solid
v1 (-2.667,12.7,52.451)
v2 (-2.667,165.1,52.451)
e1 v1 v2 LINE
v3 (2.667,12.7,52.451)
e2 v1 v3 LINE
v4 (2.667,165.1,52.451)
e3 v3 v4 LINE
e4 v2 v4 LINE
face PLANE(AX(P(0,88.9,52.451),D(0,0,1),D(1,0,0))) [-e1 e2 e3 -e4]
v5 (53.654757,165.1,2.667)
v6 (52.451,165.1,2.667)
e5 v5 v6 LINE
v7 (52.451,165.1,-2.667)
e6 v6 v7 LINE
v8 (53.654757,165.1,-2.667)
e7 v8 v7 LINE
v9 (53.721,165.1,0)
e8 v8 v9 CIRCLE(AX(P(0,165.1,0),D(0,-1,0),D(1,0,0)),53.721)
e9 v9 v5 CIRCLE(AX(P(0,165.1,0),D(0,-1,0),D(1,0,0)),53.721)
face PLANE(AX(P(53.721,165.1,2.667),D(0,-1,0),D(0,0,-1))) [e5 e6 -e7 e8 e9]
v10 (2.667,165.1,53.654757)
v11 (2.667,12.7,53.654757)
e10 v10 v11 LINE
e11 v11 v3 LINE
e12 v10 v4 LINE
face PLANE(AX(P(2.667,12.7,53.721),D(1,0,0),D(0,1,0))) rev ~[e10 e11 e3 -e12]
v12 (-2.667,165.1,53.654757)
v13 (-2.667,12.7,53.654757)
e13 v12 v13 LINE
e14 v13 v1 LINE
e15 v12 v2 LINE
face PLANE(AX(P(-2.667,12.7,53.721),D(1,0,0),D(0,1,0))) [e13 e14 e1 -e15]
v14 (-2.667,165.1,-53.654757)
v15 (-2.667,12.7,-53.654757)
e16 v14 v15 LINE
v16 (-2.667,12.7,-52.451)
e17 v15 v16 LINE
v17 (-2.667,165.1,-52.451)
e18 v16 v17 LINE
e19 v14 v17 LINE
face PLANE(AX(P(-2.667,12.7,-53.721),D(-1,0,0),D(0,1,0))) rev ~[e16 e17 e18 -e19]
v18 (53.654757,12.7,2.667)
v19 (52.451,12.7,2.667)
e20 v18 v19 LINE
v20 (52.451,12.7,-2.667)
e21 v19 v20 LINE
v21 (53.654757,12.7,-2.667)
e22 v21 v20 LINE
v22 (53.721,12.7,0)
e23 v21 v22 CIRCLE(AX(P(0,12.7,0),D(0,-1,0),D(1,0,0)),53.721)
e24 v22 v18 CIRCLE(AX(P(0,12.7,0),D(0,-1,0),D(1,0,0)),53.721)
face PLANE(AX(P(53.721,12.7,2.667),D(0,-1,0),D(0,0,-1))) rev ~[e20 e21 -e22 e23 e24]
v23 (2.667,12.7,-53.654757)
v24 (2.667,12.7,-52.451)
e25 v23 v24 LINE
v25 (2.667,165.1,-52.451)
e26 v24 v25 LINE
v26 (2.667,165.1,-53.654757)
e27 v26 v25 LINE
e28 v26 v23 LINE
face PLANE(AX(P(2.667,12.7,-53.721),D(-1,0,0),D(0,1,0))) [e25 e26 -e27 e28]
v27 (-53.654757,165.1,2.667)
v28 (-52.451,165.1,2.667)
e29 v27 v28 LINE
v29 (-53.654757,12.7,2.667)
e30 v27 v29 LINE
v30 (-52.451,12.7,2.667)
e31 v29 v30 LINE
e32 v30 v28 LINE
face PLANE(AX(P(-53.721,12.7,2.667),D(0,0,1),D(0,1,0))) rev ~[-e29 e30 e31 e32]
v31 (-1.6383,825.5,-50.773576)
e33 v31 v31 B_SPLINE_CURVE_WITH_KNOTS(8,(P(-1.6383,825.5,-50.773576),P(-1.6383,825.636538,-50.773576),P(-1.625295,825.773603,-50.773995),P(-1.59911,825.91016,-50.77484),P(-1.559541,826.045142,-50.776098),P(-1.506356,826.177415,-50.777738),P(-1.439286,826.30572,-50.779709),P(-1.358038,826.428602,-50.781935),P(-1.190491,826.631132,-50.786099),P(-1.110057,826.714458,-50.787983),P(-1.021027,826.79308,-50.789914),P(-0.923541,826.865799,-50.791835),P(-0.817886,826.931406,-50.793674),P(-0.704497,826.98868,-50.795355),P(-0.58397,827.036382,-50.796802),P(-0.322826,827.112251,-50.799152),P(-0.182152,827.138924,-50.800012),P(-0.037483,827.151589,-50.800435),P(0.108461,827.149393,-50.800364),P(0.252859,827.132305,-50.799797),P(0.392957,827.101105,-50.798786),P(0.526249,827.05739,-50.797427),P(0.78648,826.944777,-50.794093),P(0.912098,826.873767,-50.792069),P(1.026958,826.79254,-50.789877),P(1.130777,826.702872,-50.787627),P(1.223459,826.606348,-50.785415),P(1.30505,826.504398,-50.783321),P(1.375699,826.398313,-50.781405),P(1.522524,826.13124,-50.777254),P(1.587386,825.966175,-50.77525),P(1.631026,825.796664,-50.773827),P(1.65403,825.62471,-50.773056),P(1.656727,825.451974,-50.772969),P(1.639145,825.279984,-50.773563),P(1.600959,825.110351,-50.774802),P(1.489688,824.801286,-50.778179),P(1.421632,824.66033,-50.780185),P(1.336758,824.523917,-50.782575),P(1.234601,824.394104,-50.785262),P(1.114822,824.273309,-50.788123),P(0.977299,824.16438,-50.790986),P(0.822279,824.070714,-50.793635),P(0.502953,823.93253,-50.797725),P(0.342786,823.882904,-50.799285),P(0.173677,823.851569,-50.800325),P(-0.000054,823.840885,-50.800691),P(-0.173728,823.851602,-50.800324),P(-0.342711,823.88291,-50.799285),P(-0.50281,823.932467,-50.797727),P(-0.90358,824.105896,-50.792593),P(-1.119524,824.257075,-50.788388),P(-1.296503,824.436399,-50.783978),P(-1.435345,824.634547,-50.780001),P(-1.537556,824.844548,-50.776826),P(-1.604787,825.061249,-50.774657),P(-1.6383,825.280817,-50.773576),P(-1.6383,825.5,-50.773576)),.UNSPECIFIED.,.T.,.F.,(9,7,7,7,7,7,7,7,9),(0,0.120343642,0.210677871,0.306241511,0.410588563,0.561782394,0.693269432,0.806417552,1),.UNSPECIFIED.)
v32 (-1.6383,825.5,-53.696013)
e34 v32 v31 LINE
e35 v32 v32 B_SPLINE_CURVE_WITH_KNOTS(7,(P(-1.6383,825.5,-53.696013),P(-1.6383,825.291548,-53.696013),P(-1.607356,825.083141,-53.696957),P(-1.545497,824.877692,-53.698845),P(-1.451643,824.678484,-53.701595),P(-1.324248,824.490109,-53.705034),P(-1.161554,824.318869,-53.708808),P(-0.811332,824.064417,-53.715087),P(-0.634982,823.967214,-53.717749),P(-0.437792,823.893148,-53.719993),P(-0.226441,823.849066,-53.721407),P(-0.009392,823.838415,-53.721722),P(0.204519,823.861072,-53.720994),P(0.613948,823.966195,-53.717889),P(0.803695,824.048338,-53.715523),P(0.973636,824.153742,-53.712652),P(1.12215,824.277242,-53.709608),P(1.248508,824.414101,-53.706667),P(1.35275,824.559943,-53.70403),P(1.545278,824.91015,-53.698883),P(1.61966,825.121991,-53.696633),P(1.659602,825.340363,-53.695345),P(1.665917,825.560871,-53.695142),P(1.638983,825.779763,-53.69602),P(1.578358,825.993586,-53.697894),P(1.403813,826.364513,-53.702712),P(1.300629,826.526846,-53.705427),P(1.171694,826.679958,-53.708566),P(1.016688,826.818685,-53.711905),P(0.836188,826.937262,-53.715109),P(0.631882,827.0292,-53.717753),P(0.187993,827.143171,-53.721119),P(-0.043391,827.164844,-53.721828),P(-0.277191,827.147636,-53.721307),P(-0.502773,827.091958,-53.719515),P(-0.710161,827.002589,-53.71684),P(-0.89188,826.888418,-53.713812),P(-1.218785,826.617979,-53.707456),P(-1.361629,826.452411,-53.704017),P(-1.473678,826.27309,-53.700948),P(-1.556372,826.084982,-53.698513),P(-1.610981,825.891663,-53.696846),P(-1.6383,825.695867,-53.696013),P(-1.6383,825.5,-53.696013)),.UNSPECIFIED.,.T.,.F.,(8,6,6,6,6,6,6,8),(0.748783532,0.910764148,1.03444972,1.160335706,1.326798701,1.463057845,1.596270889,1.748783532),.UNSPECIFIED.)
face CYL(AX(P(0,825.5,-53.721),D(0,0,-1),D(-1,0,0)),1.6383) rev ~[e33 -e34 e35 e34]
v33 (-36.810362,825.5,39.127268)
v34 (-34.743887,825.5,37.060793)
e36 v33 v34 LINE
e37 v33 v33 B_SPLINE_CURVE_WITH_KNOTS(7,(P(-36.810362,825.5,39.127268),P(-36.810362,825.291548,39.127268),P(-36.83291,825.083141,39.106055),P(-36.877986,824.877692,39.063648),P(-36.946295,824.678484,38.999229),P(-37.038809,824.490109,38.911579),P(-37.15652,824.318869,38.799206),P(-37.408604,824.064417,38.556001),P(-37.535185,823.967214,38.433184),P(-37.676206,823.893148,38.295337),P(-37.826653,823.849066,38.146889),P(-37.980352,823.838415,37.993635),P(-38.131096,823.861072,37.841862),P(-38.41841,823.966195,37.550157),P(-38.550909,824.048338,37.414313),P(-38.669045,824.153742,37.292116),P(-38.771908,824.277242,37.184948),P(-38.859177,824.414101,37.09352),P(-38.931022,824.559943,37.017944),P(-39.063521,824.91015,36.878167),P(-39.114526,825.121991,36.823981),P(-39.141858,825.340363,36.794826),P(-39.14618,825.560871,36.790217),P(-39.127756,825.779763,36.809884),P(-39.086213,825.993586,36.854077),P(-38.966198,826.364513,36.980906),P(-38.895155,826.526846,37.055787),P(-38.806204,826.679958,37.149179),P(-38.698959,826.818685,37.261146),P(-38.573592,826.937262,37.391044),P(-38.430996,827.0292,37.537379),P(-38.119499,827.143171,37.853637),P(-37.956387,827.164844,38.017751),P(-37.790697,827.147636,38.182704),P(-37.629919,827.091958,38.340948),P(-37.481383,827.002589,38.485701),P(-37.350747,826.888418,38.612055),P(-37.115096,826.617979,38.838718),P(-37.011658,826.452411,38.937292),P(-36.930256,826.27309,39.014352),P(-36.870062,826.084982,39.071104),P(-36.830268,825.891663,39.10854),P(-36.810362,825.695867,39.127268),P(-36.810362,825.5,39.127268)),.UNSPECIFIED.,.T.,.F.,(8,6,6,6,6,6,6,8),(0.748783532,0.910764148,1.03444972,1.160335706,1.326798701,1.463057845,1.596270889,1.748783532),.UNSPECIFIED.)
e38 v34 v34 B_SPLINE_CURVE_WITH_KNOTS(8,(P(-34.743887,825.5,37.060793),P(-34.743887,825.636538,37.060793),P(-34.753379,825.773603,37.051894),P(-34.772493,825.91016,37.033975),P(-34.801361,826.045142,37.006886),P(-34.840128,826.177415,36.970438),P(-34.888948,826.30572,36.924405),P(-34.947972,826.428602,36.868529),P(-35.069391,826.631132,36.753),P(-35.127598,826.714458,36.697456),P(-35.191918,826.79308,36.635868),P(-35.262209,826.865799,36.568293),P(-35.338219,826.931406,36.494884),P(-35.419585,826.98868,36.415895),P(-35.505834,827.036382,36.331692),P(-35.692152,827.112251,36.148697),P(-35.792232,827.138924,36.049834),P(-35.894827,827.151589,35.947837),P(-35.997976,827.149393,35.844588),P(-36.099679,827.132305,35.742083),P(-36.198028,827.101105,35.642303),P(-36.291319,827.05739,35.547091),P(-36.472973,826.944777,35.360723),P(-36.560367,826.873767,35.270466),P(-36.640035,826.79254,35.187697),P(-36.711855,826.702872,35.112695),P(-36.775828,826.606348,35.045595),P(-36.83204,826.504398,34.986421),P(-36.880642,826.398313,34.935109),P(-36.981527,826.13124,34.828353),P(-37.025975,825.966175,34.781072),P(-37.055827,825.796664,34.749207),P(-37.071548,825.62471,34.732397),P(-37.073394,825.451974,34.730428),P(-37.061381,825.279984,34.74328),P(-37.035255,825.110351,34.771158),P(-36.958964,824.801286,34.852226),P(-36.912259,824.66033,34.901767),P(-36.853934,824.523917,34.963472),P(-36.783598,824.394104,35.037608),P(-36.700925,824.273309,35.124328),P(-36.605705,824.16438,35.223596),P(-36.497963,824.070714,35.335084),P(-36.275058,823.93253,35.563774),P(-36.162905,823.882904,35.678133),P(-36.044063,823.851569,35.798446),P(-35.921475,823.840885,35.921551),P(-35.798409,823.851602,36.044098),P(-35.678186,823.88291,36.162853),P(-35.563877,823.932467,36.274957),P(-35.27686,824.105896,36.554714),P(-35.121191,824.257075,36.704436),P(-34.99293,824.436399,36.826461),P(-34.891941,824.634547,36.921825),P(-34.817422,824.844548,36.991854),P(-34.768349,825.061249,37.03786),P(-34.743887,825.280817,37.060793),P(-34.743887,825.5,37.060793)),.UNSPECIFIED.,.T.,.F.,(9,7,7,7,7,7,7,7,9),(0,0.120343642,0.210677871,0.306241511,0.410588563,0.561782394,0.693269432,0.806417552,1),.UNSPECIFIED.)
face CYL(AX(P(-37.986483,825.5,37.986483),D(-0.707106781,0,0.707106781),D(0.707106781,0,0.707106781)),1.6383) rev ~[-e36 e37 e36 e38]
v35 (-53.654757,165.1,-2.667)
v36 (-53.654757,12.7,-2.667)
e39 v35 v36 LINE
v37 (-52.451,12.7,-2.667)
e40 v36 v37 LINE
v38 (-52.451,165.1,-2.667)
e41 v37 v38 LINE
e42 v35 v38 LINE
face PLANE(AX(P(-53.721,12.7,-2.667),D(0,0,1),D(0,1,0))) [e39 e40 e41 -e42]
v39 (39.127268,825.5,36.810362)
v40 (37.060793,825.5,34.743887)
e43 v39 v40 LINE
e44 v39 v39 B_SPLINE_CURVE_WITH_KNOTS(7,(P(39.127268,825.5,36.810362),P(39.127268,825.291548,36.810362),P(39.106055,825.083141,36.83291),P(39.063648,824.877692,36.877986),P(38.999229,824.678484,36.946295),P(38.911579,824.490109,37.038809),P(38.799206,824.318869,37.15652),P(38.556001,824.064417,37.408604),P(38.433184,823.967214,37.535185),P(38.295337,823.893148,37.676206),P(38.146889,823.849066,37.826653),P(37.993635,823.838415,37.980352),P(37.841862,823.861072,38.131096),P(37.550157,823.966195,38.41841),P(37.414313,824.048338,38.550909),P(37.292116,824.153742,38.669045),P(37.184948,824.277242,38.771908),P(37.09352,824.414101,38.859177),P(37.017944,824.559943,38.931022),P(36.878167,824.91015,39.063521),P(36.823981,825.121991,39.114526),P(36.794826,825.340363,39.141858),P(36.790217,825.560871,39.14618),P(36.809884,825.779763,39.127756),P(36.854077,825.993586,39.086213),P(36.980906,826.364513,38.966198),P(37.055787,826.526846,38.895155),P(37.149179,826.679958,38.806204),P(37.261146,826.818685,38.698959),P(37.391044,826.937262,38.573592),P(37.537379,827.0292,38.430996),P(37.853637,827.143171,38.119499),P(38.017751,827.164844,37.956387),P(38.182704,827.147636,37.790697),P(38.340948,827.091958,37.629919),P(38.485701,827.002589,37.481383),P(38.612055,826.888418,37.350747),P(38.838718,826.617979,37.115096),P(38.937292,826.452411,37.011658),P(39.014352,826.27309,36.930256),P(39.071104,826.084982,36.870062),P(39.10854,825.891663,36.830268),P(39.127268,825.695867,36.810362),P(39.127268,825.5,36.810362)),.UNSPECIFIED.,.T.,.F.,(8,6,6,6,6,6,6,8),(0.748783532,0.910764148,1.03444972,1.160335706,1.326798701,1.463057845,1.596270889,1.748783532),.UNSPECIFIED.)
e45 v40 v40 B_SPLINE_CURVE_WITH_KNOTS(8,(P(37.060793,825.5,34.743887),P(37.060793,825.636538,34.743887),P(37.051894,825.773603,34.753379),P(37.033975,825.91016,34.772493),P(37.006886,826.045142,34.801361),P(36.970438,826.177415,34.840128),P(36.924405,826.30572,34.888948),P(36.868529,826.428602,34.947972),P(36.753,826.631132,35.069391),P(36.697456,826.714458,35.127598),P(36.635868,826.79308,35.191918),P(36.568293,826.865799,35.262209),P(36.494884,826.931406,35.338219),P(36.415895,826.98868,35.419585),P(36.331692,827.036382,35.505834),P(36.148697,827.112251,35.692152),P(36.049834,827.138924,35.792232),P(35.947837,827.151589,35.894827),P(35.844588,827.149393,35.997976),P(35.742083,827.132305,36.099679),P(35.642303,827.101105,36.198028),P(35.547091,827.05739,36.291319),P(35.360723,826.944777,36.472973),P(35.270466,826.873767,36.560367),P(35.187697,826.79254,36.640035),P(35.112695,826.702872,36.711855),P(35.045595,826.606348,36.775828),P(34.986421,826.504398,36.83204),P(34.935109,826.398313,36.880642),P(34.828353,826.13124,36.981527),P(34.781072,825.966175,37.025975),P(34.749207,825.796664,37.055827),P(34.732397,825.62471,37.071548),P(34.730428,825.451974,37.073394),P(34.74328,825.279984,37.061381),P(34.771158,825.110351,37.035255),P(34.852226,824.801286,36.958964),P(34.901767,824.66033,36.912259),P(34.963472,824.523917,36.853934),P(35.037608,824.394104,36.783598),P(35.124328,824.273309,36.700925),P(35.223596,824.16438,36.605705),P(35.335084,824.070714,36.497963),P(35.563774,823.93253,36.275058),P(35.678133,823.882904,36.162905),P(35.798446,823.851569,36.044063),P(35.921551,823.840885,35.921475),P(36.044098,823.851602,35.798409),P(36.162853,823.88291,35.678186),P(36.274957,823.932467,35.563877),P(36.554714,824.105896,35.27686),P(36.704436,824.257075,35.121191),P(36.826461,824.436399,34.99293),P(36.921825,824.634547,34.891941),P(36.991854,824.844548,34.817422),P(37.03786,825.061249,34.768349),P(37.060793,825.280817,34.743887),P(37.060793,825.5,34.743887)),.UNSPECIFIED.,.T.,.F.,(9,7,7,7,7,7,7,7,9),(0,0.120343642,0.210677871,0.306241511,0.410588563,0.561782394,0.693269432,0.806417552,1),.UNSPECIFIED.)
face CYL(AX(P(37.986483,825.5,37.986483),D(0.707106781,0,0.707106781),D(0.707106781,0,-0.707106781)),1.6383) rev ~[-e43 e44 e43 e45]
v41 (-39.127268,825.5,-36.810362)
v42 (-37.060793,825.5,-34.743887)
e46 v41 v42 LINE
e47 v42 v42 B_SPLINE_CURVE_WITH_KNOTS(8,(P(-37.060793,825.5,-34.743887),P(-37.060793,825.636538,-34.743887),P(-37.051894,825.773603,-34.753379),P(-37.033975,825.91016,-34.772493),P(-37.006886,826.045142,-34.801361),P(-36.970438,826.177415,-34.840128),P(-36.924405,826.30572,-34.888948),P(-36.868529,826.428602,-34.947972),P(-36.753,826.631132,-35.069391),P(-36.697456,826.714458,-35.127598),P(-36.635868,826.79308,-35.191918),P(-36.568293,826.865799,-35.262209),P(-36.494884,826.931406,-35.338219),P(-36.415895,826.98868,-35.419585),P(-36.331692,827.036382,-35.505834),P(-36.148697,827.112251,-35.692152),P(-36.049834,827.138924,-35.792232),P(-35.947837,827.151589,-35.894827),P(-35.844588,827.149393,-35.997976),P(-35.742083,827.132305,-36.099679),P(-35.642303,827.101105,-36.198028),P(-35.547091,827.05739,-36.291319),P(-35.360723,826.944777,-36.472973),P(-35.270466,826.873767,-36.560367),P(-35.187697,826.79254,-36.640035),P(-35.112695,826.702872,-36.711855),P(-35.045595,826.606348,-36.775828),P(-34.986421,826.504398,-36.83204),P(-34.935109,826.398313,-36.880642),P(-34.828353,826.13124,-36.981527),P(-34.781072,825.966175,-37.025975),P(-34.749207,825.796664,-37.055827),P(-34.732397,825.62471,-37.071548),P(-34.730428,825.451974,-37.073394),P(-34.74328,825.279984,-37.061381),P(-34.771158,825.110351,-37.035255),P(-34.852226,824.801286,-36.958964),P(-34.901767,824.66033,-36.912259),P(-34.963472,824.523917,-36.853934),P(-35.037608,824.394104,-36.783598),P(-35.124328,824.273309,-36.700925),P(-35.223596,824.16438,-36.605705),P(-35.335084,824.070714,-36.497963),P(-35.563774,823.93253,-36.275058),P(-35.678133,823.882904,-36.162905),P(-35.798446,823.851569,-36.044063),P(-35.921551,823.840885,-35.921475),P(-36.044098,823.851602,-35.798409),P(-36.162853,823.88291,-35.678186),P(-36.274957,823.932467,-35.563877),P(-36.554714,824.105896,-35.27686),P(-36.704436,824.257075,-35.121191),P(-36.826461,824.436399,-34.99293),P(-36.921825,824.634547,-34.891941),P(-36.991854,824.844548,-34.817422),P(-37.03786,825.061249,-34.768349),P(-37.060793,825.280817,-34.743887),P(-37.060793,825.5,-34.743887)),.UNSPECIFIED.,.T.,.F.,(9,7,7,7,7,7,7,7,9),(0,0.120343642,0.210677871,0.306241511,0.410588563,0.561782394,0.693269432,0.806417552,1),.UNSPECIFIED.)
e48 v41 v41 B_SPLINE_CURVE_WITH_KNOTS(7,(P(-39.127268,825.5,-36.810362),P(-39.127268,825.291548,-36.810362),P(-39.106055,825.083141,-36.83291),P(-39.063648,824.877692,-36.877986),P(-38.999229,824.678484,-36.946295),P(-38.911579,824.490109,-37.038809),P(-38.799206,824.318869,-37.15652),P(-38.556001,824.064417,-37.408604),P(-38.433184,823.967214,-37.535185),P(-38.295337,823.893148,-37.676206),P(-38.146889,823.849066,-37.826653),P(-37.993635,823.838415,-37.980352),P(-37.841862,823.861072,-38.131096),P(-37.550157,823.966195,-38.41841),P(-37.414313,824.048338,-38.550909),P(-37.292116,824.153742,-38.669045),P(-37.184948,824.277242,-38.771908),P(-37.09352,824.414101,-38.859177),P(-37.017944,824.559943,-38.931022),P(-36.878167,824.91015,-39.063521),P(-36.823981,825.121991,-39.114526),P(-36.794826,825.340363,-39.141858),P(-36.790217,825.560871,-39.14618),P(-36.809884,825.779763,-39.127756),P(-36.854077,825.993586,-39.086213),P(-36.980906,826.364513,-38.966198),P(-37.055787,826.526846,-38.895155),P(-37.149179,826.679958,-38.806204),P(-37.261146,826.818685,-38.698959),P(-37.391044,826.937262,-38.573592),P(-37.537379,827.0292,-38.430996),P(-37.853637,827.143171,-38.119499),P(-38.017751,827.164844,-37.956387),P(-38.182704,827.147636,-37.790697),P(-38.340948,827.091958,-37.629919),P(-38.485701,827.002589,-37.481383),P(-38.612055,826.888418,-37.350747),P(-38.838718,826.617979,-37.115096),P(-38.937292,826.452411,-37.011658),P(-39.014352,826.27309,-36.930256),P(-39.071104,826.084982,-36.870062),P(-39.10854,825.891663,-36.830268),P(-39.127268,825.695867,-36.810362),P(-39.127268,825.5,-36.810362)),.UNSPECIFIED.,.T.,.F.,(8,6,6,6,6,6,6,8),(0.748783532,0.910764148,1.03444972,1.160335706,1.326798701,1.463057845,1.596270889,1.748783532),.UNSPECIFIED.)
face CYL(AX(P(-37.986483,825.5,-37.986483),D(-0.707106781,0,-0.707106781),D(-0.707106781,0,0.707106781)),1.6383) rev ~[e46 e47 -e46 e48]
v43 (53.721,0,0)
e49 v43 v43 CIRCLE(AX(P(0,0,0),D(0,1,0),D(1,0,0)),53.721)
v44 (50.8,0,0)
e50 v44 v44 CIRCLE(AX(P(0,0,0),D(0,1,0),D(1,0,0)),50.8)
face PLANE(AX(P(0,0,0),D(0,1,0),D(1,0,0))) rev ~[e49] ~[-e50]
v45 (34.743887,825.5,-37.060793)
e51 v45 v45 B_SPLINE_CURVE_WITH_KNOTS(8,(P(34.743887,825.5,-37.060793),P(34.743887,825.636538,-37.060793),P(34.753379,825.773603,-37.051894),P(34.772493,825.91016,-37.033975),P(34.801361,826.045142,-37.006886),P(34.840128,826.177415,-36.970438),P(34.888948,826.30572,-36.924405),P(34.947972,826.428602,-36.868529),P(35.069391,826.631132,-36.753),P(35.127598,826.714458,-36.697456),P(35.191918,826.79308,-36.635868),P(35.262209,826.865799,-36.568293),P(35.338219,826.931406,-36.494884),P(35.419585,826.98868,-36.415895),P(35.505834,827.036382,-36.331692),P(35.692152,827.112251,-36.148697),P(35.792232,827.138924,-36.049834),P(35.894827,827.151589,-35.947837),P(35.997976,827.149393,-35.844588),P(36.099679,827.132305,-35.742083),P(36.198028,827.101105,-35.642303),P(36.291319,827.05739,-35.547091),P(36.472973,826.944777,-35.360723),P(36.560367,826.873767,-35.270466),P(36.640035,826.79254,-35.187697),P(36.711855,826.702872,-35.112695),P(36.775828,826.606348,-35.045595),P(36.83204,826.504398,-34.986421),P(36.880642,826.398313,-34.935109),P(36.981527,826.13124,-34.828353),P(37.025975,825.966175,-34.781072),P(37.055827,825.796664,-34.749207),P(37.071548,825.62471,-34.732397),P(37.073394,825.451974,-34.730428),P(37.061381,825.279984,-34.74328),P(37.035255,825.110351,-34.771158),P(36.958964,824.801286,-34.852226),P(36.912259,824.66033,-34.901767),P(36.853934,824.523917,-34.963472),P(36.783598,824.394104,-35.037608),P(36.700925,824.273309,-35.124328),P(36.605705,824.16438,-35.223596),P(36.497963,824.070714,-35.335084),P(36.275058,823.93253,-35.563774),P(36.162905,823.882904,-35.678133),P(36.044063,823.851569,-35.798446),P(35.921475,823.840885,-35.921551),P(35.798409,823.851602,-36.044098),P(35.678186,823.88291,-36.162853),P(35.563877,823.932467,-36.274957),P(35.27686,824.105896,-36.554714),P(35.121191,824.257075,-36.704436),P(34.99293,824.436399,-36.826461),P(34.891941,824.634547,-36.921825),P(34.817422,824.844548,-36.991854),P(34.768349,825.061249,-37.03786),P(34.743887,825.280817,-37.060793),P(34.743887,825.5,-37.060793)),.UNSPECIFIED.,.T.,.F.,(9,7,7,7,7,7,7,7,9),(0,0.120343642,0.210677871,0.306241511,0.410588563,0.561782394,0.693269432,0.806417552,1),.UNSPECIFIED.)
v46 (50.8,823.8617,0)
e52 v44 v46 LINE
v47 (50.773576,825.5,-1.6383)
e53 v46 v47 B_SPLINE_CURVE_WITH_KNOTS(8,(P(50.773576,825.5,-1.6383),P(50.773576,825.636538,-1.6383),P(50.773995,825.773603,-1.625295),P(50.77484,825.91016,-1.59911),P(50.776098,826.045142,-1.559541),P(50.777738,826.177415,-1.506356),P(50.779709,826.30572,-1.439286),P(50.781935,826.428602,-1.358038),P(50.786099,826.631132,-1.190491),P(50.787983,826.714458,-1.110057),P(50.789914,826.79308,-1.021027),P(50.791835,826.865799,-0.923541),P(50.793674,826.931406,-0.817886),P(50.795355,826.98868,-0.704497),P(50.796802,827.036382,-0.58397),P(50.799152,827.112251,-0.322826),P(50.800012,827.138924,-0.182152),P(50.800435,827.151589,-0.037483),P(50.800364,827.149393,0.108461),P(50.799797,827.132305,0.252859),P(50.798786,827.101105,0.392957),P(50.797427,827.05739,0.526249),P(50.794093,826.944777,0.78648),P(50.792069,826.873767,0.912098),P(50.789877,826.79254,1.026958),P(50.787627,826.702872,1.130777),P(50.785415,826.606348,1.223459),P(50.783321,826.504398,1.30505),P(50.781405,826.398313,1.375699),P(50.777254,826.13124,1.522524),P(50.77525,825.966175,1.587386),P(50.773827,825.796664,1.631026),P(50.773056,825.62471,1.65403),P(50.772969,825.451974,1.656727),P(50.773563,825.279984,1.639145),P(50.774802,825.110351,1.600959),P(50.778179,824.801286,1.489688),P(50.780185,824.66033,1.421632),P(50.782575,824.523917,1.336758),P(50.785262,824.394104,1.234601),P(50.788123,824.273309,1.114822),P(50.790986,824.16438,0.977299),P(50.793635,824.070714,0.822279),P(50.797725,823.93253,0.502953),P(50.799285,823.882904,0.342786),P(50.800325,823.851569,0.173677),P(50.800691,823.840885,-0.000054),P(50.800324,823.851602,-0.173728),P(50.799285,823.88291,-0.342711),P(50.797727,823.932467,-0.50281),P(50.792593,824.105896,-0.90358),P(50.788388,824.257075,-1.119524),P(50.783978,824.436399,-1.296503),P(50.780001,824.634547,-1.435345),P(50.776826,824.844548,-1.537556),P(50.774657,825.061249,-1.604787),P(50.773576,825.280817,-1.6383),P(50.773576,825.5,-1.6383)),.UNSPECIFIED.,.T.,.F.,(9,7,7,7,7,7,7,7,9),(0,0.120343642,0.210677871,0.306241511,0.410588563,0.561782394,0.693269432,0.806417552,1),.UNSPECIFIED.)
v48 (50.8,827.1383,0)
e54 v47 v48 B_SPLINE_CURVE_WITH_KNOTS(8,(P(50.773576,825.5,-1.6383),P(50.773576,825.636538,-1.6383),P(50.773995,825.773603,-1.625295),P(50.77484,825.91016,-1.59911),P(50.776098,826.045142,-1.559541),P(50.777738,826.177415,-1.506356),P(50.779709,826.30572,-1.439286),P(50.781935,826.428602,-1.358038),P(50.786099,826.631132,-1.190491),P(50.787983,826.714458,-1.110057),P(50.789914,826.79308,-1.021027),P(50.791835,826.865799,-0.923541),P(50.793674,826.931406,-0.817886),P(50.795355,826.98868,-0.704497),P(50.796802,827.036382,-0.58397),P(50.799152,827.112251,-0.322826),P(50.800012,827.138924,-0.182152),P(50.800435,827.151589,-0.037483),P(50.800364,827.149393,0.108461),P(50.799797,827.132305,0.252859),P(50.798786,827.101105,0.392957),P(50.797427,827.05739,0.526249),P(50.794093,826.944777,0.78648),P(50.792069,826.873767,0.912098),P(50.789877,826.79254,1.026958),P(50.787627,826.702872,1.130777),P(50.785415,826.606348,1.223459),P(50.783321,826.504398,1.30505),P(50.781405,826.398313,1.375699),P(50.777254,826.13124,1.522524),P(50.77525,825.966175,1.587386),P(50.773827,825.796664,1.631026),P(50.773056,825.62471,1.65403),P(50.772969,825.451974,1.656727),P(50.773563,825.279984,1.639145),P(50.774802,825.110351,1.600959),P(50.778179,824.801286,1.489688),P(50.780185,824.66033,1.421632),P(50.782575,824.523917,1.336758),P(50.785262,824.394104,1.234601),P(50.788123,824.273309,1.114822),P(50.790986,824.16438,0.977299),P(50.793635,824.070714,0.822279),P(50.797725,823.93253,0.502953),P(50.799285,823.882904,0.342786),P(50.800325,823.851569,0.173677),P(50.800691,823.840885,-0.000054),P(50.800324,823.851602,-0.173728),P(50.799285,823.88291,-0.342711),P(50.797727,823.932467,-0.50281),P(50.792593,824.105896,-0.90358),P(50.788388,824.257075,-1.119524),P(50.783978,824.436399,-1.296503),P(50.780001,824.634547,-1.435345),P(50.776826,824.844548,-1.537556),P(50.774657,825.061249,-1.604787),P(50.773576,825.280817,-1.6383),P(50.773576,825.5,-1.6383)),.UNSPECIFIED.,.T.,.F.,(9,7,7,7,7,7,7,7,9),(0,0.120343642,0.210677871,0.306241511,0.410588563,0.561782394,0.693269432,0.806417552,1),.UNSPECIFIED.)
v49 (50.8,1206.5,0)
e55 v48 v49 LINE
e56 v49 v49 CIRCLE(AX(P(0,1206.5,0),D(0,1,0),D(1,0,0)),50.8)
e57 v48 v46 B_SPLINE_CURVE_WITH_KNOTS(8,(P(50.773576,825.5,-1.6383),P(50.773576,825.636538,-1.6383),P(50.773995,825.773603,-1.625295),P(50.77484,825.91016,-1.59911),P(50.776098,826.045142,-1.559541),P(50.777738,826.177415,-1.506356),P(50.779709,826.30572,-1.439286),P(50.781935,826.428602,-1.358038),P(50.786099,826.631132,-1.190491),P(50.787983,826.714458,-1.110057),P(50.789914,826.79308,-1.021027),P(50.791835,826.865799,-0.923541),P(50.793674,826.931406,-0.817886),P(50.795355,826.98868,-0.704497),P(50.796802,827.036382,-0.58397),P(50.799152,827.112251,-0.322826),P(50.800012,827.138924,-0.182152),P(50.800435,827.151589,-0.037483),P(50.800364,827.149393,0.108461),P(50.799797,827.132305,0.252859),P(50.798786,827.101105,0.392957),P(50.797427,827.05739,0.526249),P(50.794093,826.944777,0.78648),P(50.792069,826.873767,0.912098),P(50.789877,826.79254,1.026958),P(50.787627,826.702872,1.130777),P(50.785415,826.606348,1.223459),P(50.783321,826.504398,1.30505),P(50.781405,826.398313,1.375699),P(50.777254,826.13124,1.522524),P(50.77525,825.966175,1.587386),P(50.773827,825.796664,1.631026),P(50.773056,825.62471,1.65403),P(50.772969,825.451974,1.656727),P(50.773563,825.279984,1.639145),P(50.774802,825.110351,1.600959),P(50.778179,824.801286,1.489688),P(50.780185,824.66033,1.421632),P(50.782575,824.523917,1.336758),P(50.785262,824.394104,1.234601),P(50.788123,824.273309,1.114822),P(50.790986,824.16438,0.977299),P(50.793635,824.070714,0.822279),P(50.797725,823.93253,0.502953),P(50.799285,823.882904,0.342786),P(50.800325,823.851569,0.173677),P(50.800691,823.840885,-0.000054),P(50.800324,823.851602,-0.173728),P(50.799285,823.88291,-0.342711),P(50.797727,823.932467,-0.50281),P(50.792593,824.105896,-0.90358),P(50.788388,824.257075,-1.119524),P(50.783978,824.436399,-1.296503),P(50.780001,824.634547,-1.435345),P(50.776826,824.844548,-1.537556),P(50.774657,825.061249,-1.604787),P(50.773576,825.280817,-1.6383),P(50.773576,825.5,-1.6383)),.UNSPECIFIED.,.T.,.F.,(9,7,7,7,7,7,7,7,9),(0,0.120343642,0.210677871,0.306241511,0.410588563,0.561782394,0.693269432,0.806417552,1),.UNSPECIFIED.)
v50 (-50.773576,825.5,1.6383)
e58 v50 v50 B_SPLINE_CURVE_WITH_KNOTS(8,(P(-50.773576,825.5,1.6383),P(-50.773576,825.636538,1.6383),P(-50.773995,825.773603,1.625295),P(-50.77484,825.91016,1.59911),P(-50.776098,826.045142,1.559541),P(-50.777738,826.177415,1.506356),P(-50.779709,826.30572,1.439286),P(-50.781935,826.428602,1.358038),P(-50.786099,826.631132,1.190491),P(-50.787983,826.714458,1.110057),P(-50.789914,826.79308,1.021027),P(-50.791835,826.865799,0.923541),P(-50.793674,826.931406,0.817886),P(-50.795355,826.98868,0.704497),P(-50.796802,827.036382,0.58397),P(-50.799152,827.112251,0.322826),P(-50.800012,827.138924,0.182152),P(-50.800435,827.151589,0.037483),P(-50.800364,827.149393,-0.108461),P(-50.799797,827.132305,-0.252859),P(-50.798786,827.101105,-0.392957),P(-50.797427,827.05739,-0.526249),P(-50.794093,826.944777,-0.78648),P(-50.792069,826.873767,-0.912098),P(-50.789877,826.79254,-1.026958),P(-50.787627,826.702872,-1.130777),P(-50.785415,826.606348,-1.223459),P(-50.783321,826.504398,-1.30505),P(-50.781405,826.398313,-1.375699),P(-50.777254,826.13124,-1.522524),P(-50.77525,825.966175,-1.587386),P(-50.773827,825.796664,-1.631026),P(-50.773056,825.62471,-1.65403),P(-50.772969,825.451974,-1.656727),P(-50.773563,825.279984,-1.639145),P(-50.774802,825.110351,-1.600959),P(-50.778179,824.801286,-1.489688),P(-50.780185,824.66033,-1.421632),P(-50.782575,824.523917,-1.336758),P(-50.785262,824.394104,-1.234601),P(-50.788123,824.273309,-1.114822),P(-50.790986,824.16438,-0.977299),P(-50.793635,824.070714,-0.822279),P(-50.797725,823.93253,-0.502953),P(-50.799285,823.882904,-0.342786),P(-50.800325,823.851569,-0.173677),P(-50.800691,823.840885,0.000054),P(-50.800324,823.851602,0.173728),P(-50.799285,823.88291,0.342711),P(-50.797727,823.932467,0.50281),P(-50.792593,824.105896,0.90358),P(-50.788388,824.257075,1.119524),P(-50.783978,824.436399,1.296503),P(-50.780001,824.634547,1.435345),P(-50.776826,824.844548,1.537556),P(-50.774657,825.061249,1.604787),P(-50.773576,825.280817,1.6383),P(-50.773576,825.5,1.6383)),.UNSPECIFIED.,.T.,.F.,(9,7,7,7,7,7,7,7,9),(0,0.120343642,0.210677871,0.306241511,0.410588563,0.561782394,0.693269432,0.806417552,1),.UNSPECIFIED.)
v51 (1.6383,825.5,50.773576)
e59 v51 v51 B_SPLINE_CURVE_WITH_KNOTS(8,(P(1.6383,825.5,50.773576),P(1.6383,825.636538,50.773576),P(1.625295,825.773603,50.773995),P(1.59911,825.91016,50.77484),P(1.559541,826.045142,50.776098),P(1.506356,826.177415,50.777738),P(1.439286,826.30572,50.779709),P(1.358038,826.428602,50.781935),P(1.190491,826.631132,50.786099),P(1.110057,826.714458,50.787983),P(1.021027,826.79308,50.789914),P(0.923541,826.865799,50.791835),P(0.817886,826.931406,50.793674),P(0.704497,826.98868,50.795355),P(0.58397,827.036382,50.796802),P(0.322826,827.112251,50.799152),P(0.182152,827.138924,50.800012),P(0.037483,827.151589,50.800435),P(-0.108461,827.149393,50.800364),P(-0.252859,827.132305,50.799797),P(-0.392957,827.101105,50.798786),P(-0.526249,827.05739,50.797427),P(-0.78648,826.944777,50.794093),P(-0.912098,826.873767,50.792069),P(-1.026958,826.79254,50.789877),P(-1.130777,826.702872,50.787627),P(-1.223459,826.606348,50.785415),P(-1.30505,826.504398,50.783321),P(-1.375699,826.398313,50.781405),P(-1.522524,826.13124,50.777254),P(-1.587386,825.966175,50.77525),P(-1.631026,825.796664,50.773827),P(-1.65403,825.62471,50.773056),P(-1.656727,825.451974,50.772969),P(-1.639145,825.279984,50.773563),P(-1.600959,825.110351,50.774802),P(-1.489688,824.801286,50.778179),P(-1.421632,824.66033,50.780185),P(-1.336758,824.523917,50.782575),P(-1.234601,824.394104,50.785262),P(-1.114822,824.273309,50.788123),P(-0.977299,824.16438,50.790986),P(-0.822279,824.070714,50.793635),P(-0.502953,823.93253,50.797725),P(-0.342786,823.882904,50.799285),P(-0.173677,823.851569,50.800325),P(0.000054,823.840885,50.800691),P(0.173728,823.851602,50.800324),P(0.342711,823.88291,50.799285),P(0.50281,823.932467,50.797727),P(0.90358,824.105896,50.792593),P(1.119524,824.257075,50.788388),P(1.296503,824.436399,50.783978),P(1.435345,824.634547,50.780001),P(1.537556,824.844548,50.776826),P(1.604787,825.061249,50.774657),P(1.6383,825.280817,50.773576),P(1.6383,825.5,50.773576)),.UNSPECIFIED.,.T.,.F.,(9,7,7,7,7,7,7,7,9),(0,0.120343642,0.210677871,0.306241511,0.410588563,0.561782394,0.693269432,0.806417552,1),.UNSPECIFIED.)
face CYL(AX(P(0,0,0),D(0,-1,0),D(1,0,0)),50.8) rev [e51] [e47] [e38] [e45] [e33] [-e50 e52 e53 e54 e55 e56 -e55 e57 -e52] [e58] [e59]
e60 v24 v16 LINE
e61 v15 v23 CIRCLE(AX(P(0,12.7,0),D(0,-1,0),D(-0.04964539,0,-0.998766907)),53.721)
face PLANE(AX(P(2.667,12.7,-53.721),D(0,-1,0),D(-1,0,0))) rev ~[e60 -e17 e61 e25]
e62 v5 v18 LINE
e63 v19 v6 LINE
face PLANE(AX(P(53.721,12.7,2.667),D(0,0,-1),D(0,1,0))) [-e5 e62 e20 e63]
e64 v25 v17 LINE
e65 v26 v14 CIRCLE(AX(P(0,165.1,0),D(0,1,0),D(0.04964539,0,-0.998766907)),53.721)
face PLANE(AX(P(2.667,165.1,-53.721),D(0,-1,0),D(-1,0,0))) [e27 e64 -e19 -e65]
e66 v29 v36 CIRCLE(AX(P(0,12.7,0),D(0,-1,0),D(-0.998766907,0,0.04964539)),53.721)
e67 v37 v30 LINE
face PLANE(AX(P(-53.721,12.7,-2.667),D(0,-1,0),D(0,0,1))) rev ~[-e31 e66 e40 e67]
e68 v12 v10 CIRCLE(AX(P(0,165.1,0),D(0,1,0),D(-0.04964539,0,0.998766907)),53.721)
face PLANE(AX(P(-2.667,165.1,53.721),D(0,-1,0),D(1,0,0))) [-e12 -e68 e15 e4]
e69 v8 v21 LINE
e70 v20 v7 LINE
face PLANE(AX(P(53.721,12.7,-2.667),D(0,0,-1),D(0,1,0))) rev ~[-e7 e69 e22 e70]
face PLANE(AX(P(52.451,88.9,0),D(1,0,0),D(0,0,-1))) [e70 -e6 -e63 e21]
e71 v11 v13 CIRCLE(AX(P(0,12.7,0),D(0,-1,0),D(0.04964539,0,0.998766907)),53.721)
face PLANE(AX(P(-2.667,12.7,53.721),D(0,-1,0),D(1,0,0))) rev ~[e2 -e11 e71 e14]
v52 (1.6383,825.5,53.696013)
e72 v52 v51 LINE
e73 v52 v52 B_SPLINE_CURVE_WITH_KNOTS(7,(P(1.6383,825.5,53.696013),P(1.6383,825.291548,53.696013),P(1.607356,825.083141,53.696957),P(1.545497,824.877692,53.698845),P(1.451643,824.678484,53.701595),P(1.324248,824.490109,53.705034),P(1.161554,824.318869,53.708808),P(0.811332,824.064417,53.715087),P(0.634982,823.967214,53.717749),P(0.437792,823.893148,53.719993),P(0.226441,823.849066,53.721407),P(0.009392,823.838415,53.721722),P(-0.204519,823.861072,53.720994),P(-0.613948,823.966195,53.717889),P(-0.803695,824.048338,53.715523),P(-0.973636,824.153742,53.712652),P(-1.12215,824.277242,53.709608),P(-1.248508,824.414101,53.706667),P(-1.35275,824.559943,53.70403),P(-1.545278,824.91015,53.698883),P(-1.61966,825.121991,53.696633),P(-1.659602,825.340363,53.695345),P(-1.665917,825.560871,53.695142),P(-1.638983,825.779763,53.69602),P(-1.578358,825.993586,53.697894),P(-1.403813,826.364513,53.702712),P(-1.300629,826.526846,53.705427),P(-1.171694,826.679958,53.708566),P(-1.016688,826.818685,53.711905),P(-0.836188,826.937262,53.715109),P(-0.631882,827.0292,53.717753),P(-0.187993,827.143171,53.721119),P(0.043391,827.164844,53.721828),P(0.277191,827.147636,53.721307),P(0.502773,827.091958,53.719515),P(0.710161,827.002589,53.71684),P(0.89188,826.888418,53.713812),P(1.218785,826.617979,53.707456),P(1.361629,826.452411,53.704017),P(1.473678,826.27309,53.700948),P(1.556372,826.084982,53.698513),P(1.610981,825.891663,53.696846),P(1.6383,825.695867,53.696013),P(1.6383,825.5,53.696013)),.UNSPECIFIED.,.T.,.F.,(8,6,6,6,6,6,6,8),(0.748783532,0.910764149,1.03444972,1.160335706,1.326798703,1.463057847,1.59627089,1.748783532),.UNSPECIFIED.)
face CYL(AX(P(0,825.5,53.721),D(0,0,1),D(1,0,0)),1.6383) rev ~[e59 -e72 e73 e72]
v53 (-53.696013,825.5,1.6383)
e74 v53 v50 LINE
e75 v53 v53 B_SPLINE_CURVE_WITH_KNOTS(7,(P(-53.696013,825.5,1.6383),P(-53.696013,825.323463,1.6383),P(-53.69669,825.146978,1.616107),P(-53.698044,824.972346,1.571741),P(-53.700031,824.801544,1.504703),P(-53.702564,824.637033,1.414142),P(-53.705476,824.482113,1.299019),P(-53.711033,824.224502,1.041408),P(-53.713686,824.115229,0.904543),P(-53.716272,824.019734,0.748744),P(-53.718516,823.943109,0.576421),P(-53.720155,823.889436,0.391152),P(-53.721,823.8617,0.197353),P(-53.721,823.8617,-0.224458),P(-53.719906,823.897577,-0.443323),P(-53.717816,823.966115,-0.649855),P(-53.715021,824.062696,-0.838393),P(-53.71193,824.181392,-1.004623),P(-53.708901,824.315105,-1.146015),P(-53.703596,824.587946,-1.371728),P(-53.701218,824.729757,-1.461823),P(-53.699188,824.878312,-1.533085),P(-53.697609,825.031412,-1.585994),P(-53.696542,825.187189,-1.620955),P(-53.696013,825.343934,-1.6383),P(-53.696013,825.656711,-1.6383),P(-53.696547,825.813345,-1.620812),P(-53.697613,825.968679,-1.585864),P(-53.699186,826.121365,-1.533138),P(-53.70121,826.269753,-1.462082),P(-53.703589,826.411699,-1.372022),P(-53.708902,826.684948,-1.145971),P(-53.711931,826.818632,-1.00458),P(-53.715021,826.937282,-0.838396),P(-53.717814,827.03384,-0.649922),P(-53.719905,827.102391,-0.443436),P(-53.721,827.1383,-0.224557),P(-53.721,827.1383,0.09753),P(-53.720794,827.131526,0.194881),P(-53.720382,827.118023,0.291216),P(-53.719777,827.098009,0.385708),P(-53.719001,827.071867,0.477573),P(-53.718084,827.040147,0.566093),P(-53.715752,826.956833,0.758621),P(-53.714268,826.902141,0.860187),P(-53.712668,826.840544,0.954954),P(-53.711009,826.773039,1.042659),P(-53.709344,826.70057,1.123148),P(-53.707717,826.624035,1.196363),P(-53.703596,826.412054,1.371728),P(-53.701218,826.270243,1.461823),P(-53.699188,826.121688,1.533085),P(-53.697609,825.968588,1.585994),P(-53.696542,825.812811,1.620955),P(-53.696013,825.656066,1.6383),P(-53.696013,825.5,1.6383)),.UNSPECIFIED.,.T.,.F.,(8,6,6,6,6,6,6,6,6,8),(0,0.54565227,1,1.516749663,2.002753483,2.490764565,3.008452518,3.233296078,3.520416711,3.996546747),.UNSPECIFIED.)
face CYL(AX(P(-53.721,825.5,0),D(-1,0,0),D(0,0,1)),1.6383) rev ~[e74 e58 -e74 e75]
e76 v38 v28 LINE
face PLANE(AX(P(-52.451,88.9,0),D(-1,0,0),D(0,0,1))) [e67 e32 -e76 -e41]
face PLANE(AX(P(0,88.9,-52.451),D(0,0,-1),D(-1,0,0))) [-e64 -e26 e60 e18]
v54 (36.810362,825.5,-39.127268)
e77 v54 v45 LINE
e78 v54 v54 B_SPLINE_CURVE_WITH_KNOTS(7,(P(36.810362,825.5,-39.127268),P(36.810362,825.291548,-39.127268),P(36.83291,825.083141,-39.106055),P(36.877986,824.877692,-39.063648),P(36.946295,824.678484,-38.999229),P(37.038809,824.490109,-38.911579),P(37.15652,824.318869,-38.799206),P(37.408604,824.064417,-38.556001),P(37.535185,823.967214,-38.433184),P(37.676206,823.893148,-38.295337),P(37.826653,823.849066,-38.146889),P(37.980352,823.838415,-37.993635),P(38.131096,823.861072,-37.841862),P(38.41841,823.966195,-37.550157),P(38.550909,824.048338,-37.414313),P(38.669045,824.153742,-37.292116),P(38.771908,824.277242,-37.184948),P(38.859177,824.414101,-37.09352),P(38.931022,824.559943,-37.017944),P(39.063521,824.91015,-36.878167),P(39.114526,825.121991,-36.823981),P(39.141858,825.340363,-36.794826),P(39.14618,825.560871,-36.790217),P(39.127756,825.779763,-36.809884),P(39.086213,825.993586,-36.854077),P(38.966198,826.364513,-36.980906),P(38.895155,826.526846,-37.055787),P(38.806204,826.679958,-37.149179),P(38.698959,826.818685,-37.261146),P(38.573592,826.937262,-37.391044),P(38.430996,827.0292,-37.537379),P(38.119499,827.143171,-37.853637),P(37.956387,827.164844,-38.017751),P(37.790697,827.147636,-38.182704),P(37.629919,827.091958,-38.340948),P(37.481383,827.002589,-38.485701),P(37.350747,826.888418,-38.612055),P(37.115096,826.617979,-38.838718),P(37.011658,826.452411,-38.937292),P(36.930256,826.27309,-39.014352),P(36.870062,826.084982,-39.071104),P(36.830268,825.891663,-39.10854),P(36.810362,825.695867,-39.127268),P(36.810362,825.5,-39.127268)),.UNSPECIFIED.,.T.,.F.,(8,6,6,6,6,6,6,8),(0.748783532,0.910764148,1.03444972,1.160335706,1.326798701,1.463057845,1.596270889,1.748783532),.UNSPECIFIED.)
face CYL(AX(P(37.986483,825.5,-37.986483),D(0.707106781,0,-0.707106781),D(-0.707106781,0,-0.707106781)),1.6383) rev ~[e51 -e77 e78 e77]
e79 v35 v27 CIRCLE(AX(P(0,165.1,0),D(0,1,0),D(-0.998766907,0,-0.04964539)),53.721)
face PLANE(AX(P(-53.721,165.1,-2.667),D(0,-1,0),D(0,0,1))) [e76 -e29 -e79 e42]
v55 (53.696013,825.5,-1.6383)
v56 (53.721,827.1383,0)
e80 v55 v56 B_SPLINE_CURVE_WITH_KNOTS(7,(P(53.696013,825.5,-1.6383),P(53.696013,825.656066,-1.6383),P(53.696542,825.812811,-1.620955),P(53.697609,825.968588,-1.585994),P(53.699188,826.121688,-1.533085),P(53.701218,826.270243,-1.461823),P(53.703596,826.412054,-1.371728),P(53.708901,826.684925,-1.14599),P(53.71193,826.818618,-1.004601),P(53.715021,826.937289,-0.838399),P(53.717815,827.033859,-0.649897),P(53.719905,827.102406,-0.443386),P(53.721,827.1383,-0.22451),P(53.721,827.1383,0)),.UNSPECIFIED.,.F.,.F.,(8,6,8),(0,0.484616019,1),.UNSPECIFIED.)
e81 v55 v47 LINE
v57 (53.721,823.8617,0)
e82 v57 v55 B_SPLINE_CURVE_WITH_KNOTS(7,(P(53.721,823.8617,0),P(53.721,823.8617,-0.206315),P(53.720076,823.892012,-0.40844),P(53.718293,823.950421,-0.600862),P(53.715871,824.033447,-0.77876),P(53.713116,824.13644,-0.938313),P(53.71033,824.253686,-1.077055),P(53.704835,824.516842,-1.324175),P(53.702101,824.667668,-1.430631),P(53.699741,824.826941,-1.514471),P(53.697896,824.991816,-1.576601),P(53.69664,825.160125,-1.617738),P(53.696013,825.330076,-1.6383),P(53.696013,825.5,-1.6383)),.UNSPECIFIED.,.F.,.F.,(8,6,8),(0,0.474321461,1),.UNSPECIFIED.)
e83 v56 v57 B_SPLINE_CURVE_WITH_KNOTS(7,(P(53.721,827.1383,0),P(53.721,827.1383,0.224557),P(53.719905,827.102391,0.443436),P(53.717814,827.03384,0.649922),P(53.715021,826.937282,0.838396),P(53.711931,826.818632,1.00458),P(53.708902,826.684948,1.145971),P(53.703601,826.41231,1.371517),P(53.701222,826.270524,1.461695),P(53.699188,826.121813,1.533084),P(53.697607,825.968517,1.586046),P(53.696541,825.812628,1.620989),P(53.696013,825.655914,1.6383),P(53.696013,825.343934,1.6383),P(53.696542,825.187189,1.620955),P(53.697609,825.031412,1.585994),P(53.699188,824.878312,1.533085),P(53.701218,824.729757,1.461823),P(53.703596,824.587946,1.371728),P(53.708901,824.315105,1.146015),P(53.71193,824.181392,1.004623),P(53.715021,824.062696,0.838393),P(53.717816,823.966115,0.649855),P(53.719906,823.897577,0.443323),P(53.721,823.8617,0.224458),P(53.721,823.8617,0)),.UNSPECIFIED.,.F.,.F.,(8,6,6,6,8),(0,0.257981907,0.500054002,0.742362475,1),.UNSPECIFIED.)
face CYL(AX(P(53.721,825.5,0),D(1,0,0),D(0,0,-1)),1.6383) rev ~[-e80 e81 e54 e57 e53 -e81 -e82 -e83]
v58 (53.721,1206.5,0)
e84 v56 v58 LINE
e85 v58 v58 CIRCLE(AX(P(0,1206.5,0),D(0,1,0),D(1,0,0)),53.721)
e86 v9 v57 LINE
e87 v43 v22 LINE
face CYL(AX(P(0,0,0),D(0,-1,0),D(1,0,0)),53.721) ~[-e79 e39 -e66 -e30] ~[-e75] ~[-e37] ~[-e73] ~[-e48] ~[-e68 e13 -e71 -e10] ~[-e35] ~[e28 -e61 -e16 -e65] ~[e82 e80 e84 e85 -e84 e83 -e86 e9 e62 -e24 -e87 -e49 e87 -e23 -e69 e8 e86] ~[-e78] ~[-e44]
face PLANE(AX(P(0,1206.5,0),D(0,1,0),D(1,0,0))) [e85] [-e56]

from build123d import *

# Parameters (mm, degrees)
SKETCH1_R                 = 53.721
SKETCH1_R_2               = 50.8
BODY_TUBE_EXTRUSION_DEPTH = 1206.5
BULKHEAD_HOLE_REACH       = 1214.465
BULKHEAD_HOLE_END_RADIUS  = 50.8
SKETCH2_R                 = 1.6383
CIRPATTERN1_COUNT         = 8
SKETCH3_W                 = 5.334
SKETCH3_H                 = 152.4
CUT_EXTRUDE1_DEPTH        = 1.27
CIRPATTERN2_COUNT         = 4


with BuildPart() as part:
    # Sketch1 → Body Tube Extrusion (new body)
    with BuildSketch(Plane(origin=(0, 0, 0), x_dir=(1, 0, 0), z_dir=(0, 1, 0))):
        Circle(SKETCH1_R)
        Circle(SKETCH1_R_2, mode=Mode.SUBTRACT)
    extrude(amount=BODY_TUBE_EXTRUSION_DEPTH)

    # Bulkhead Hole: up to this cylinder (the profile starts outside it)
    bulkhead_hole_end = Plane(origin=(0, 825.5, 0), z_dir=(0, -1, 0)) * Cylinder(BULKHEAD_HOLE_END_RADIUS, 2531.53, mode=Mode.PRIVATE)
    # Sketch2 → Bulkhead Hole (cut, up to the surface)
    with BuildSketch(Plane.XY.offset(53.721), mode=Mode.PRIVATE) as bulkhead_hole_sk1:
        with Locations((0, 825.5)):
            Circle(SKETCH2_R)
    bulkhead_hole_tool1 = extrude(bulkhead_hole_sk1.sketch, amount=-BULKHEAD_HOLE_REACH, mode=Mode.PRIVATE) - bulkhead_hole_end
    bulkhead_hole = bulkhead_hole_tool1.solids().sort_by_distance((0, 825.5, 53.721))[0]
    add(bulkhead_hole, mode=Mode.SUBTRACT)

    # CirPattern1: Bulkhead Hole ×8 about axis
    cirpattern1_axis = Axis((0, 1206.5, 0), (0, -1, 0))
    for i in range(1, CIRPATTERN1_COUNT):
        add(bulkhead_hole.rotate(cirpattern1_axis, i * 360 / CIRPATTERN1_COUNT), mode=Mode.SUBTRACT)

    # Sketch3 → Cut-Extrude1 (cut)
    with BuildSketch(Plane.XY.offset(53.721)):
        with Locations((0, 88.9)):
            Rectangle(SKETCH3_W, SKETCH3_H)
    cut_extrude1 = extrude(amount=-CUT_EXTRUDE1_DEPTH, mode=Mode.SUBTRACT)

    # CirPattern2: Cut-Extrude1 ×4 about axis
    cirpattern2_axis = Axis((0, 0, 0), (0, 1, 0))
    for i in range(1, CIRPATTERN2_COUNT):
        add(cut_extrude1.rotate(cirpattern2_axis, i * 360 / CIRPATTERN2_COUNT), mode=Mode.SUBTRACT)


solid = part.part
